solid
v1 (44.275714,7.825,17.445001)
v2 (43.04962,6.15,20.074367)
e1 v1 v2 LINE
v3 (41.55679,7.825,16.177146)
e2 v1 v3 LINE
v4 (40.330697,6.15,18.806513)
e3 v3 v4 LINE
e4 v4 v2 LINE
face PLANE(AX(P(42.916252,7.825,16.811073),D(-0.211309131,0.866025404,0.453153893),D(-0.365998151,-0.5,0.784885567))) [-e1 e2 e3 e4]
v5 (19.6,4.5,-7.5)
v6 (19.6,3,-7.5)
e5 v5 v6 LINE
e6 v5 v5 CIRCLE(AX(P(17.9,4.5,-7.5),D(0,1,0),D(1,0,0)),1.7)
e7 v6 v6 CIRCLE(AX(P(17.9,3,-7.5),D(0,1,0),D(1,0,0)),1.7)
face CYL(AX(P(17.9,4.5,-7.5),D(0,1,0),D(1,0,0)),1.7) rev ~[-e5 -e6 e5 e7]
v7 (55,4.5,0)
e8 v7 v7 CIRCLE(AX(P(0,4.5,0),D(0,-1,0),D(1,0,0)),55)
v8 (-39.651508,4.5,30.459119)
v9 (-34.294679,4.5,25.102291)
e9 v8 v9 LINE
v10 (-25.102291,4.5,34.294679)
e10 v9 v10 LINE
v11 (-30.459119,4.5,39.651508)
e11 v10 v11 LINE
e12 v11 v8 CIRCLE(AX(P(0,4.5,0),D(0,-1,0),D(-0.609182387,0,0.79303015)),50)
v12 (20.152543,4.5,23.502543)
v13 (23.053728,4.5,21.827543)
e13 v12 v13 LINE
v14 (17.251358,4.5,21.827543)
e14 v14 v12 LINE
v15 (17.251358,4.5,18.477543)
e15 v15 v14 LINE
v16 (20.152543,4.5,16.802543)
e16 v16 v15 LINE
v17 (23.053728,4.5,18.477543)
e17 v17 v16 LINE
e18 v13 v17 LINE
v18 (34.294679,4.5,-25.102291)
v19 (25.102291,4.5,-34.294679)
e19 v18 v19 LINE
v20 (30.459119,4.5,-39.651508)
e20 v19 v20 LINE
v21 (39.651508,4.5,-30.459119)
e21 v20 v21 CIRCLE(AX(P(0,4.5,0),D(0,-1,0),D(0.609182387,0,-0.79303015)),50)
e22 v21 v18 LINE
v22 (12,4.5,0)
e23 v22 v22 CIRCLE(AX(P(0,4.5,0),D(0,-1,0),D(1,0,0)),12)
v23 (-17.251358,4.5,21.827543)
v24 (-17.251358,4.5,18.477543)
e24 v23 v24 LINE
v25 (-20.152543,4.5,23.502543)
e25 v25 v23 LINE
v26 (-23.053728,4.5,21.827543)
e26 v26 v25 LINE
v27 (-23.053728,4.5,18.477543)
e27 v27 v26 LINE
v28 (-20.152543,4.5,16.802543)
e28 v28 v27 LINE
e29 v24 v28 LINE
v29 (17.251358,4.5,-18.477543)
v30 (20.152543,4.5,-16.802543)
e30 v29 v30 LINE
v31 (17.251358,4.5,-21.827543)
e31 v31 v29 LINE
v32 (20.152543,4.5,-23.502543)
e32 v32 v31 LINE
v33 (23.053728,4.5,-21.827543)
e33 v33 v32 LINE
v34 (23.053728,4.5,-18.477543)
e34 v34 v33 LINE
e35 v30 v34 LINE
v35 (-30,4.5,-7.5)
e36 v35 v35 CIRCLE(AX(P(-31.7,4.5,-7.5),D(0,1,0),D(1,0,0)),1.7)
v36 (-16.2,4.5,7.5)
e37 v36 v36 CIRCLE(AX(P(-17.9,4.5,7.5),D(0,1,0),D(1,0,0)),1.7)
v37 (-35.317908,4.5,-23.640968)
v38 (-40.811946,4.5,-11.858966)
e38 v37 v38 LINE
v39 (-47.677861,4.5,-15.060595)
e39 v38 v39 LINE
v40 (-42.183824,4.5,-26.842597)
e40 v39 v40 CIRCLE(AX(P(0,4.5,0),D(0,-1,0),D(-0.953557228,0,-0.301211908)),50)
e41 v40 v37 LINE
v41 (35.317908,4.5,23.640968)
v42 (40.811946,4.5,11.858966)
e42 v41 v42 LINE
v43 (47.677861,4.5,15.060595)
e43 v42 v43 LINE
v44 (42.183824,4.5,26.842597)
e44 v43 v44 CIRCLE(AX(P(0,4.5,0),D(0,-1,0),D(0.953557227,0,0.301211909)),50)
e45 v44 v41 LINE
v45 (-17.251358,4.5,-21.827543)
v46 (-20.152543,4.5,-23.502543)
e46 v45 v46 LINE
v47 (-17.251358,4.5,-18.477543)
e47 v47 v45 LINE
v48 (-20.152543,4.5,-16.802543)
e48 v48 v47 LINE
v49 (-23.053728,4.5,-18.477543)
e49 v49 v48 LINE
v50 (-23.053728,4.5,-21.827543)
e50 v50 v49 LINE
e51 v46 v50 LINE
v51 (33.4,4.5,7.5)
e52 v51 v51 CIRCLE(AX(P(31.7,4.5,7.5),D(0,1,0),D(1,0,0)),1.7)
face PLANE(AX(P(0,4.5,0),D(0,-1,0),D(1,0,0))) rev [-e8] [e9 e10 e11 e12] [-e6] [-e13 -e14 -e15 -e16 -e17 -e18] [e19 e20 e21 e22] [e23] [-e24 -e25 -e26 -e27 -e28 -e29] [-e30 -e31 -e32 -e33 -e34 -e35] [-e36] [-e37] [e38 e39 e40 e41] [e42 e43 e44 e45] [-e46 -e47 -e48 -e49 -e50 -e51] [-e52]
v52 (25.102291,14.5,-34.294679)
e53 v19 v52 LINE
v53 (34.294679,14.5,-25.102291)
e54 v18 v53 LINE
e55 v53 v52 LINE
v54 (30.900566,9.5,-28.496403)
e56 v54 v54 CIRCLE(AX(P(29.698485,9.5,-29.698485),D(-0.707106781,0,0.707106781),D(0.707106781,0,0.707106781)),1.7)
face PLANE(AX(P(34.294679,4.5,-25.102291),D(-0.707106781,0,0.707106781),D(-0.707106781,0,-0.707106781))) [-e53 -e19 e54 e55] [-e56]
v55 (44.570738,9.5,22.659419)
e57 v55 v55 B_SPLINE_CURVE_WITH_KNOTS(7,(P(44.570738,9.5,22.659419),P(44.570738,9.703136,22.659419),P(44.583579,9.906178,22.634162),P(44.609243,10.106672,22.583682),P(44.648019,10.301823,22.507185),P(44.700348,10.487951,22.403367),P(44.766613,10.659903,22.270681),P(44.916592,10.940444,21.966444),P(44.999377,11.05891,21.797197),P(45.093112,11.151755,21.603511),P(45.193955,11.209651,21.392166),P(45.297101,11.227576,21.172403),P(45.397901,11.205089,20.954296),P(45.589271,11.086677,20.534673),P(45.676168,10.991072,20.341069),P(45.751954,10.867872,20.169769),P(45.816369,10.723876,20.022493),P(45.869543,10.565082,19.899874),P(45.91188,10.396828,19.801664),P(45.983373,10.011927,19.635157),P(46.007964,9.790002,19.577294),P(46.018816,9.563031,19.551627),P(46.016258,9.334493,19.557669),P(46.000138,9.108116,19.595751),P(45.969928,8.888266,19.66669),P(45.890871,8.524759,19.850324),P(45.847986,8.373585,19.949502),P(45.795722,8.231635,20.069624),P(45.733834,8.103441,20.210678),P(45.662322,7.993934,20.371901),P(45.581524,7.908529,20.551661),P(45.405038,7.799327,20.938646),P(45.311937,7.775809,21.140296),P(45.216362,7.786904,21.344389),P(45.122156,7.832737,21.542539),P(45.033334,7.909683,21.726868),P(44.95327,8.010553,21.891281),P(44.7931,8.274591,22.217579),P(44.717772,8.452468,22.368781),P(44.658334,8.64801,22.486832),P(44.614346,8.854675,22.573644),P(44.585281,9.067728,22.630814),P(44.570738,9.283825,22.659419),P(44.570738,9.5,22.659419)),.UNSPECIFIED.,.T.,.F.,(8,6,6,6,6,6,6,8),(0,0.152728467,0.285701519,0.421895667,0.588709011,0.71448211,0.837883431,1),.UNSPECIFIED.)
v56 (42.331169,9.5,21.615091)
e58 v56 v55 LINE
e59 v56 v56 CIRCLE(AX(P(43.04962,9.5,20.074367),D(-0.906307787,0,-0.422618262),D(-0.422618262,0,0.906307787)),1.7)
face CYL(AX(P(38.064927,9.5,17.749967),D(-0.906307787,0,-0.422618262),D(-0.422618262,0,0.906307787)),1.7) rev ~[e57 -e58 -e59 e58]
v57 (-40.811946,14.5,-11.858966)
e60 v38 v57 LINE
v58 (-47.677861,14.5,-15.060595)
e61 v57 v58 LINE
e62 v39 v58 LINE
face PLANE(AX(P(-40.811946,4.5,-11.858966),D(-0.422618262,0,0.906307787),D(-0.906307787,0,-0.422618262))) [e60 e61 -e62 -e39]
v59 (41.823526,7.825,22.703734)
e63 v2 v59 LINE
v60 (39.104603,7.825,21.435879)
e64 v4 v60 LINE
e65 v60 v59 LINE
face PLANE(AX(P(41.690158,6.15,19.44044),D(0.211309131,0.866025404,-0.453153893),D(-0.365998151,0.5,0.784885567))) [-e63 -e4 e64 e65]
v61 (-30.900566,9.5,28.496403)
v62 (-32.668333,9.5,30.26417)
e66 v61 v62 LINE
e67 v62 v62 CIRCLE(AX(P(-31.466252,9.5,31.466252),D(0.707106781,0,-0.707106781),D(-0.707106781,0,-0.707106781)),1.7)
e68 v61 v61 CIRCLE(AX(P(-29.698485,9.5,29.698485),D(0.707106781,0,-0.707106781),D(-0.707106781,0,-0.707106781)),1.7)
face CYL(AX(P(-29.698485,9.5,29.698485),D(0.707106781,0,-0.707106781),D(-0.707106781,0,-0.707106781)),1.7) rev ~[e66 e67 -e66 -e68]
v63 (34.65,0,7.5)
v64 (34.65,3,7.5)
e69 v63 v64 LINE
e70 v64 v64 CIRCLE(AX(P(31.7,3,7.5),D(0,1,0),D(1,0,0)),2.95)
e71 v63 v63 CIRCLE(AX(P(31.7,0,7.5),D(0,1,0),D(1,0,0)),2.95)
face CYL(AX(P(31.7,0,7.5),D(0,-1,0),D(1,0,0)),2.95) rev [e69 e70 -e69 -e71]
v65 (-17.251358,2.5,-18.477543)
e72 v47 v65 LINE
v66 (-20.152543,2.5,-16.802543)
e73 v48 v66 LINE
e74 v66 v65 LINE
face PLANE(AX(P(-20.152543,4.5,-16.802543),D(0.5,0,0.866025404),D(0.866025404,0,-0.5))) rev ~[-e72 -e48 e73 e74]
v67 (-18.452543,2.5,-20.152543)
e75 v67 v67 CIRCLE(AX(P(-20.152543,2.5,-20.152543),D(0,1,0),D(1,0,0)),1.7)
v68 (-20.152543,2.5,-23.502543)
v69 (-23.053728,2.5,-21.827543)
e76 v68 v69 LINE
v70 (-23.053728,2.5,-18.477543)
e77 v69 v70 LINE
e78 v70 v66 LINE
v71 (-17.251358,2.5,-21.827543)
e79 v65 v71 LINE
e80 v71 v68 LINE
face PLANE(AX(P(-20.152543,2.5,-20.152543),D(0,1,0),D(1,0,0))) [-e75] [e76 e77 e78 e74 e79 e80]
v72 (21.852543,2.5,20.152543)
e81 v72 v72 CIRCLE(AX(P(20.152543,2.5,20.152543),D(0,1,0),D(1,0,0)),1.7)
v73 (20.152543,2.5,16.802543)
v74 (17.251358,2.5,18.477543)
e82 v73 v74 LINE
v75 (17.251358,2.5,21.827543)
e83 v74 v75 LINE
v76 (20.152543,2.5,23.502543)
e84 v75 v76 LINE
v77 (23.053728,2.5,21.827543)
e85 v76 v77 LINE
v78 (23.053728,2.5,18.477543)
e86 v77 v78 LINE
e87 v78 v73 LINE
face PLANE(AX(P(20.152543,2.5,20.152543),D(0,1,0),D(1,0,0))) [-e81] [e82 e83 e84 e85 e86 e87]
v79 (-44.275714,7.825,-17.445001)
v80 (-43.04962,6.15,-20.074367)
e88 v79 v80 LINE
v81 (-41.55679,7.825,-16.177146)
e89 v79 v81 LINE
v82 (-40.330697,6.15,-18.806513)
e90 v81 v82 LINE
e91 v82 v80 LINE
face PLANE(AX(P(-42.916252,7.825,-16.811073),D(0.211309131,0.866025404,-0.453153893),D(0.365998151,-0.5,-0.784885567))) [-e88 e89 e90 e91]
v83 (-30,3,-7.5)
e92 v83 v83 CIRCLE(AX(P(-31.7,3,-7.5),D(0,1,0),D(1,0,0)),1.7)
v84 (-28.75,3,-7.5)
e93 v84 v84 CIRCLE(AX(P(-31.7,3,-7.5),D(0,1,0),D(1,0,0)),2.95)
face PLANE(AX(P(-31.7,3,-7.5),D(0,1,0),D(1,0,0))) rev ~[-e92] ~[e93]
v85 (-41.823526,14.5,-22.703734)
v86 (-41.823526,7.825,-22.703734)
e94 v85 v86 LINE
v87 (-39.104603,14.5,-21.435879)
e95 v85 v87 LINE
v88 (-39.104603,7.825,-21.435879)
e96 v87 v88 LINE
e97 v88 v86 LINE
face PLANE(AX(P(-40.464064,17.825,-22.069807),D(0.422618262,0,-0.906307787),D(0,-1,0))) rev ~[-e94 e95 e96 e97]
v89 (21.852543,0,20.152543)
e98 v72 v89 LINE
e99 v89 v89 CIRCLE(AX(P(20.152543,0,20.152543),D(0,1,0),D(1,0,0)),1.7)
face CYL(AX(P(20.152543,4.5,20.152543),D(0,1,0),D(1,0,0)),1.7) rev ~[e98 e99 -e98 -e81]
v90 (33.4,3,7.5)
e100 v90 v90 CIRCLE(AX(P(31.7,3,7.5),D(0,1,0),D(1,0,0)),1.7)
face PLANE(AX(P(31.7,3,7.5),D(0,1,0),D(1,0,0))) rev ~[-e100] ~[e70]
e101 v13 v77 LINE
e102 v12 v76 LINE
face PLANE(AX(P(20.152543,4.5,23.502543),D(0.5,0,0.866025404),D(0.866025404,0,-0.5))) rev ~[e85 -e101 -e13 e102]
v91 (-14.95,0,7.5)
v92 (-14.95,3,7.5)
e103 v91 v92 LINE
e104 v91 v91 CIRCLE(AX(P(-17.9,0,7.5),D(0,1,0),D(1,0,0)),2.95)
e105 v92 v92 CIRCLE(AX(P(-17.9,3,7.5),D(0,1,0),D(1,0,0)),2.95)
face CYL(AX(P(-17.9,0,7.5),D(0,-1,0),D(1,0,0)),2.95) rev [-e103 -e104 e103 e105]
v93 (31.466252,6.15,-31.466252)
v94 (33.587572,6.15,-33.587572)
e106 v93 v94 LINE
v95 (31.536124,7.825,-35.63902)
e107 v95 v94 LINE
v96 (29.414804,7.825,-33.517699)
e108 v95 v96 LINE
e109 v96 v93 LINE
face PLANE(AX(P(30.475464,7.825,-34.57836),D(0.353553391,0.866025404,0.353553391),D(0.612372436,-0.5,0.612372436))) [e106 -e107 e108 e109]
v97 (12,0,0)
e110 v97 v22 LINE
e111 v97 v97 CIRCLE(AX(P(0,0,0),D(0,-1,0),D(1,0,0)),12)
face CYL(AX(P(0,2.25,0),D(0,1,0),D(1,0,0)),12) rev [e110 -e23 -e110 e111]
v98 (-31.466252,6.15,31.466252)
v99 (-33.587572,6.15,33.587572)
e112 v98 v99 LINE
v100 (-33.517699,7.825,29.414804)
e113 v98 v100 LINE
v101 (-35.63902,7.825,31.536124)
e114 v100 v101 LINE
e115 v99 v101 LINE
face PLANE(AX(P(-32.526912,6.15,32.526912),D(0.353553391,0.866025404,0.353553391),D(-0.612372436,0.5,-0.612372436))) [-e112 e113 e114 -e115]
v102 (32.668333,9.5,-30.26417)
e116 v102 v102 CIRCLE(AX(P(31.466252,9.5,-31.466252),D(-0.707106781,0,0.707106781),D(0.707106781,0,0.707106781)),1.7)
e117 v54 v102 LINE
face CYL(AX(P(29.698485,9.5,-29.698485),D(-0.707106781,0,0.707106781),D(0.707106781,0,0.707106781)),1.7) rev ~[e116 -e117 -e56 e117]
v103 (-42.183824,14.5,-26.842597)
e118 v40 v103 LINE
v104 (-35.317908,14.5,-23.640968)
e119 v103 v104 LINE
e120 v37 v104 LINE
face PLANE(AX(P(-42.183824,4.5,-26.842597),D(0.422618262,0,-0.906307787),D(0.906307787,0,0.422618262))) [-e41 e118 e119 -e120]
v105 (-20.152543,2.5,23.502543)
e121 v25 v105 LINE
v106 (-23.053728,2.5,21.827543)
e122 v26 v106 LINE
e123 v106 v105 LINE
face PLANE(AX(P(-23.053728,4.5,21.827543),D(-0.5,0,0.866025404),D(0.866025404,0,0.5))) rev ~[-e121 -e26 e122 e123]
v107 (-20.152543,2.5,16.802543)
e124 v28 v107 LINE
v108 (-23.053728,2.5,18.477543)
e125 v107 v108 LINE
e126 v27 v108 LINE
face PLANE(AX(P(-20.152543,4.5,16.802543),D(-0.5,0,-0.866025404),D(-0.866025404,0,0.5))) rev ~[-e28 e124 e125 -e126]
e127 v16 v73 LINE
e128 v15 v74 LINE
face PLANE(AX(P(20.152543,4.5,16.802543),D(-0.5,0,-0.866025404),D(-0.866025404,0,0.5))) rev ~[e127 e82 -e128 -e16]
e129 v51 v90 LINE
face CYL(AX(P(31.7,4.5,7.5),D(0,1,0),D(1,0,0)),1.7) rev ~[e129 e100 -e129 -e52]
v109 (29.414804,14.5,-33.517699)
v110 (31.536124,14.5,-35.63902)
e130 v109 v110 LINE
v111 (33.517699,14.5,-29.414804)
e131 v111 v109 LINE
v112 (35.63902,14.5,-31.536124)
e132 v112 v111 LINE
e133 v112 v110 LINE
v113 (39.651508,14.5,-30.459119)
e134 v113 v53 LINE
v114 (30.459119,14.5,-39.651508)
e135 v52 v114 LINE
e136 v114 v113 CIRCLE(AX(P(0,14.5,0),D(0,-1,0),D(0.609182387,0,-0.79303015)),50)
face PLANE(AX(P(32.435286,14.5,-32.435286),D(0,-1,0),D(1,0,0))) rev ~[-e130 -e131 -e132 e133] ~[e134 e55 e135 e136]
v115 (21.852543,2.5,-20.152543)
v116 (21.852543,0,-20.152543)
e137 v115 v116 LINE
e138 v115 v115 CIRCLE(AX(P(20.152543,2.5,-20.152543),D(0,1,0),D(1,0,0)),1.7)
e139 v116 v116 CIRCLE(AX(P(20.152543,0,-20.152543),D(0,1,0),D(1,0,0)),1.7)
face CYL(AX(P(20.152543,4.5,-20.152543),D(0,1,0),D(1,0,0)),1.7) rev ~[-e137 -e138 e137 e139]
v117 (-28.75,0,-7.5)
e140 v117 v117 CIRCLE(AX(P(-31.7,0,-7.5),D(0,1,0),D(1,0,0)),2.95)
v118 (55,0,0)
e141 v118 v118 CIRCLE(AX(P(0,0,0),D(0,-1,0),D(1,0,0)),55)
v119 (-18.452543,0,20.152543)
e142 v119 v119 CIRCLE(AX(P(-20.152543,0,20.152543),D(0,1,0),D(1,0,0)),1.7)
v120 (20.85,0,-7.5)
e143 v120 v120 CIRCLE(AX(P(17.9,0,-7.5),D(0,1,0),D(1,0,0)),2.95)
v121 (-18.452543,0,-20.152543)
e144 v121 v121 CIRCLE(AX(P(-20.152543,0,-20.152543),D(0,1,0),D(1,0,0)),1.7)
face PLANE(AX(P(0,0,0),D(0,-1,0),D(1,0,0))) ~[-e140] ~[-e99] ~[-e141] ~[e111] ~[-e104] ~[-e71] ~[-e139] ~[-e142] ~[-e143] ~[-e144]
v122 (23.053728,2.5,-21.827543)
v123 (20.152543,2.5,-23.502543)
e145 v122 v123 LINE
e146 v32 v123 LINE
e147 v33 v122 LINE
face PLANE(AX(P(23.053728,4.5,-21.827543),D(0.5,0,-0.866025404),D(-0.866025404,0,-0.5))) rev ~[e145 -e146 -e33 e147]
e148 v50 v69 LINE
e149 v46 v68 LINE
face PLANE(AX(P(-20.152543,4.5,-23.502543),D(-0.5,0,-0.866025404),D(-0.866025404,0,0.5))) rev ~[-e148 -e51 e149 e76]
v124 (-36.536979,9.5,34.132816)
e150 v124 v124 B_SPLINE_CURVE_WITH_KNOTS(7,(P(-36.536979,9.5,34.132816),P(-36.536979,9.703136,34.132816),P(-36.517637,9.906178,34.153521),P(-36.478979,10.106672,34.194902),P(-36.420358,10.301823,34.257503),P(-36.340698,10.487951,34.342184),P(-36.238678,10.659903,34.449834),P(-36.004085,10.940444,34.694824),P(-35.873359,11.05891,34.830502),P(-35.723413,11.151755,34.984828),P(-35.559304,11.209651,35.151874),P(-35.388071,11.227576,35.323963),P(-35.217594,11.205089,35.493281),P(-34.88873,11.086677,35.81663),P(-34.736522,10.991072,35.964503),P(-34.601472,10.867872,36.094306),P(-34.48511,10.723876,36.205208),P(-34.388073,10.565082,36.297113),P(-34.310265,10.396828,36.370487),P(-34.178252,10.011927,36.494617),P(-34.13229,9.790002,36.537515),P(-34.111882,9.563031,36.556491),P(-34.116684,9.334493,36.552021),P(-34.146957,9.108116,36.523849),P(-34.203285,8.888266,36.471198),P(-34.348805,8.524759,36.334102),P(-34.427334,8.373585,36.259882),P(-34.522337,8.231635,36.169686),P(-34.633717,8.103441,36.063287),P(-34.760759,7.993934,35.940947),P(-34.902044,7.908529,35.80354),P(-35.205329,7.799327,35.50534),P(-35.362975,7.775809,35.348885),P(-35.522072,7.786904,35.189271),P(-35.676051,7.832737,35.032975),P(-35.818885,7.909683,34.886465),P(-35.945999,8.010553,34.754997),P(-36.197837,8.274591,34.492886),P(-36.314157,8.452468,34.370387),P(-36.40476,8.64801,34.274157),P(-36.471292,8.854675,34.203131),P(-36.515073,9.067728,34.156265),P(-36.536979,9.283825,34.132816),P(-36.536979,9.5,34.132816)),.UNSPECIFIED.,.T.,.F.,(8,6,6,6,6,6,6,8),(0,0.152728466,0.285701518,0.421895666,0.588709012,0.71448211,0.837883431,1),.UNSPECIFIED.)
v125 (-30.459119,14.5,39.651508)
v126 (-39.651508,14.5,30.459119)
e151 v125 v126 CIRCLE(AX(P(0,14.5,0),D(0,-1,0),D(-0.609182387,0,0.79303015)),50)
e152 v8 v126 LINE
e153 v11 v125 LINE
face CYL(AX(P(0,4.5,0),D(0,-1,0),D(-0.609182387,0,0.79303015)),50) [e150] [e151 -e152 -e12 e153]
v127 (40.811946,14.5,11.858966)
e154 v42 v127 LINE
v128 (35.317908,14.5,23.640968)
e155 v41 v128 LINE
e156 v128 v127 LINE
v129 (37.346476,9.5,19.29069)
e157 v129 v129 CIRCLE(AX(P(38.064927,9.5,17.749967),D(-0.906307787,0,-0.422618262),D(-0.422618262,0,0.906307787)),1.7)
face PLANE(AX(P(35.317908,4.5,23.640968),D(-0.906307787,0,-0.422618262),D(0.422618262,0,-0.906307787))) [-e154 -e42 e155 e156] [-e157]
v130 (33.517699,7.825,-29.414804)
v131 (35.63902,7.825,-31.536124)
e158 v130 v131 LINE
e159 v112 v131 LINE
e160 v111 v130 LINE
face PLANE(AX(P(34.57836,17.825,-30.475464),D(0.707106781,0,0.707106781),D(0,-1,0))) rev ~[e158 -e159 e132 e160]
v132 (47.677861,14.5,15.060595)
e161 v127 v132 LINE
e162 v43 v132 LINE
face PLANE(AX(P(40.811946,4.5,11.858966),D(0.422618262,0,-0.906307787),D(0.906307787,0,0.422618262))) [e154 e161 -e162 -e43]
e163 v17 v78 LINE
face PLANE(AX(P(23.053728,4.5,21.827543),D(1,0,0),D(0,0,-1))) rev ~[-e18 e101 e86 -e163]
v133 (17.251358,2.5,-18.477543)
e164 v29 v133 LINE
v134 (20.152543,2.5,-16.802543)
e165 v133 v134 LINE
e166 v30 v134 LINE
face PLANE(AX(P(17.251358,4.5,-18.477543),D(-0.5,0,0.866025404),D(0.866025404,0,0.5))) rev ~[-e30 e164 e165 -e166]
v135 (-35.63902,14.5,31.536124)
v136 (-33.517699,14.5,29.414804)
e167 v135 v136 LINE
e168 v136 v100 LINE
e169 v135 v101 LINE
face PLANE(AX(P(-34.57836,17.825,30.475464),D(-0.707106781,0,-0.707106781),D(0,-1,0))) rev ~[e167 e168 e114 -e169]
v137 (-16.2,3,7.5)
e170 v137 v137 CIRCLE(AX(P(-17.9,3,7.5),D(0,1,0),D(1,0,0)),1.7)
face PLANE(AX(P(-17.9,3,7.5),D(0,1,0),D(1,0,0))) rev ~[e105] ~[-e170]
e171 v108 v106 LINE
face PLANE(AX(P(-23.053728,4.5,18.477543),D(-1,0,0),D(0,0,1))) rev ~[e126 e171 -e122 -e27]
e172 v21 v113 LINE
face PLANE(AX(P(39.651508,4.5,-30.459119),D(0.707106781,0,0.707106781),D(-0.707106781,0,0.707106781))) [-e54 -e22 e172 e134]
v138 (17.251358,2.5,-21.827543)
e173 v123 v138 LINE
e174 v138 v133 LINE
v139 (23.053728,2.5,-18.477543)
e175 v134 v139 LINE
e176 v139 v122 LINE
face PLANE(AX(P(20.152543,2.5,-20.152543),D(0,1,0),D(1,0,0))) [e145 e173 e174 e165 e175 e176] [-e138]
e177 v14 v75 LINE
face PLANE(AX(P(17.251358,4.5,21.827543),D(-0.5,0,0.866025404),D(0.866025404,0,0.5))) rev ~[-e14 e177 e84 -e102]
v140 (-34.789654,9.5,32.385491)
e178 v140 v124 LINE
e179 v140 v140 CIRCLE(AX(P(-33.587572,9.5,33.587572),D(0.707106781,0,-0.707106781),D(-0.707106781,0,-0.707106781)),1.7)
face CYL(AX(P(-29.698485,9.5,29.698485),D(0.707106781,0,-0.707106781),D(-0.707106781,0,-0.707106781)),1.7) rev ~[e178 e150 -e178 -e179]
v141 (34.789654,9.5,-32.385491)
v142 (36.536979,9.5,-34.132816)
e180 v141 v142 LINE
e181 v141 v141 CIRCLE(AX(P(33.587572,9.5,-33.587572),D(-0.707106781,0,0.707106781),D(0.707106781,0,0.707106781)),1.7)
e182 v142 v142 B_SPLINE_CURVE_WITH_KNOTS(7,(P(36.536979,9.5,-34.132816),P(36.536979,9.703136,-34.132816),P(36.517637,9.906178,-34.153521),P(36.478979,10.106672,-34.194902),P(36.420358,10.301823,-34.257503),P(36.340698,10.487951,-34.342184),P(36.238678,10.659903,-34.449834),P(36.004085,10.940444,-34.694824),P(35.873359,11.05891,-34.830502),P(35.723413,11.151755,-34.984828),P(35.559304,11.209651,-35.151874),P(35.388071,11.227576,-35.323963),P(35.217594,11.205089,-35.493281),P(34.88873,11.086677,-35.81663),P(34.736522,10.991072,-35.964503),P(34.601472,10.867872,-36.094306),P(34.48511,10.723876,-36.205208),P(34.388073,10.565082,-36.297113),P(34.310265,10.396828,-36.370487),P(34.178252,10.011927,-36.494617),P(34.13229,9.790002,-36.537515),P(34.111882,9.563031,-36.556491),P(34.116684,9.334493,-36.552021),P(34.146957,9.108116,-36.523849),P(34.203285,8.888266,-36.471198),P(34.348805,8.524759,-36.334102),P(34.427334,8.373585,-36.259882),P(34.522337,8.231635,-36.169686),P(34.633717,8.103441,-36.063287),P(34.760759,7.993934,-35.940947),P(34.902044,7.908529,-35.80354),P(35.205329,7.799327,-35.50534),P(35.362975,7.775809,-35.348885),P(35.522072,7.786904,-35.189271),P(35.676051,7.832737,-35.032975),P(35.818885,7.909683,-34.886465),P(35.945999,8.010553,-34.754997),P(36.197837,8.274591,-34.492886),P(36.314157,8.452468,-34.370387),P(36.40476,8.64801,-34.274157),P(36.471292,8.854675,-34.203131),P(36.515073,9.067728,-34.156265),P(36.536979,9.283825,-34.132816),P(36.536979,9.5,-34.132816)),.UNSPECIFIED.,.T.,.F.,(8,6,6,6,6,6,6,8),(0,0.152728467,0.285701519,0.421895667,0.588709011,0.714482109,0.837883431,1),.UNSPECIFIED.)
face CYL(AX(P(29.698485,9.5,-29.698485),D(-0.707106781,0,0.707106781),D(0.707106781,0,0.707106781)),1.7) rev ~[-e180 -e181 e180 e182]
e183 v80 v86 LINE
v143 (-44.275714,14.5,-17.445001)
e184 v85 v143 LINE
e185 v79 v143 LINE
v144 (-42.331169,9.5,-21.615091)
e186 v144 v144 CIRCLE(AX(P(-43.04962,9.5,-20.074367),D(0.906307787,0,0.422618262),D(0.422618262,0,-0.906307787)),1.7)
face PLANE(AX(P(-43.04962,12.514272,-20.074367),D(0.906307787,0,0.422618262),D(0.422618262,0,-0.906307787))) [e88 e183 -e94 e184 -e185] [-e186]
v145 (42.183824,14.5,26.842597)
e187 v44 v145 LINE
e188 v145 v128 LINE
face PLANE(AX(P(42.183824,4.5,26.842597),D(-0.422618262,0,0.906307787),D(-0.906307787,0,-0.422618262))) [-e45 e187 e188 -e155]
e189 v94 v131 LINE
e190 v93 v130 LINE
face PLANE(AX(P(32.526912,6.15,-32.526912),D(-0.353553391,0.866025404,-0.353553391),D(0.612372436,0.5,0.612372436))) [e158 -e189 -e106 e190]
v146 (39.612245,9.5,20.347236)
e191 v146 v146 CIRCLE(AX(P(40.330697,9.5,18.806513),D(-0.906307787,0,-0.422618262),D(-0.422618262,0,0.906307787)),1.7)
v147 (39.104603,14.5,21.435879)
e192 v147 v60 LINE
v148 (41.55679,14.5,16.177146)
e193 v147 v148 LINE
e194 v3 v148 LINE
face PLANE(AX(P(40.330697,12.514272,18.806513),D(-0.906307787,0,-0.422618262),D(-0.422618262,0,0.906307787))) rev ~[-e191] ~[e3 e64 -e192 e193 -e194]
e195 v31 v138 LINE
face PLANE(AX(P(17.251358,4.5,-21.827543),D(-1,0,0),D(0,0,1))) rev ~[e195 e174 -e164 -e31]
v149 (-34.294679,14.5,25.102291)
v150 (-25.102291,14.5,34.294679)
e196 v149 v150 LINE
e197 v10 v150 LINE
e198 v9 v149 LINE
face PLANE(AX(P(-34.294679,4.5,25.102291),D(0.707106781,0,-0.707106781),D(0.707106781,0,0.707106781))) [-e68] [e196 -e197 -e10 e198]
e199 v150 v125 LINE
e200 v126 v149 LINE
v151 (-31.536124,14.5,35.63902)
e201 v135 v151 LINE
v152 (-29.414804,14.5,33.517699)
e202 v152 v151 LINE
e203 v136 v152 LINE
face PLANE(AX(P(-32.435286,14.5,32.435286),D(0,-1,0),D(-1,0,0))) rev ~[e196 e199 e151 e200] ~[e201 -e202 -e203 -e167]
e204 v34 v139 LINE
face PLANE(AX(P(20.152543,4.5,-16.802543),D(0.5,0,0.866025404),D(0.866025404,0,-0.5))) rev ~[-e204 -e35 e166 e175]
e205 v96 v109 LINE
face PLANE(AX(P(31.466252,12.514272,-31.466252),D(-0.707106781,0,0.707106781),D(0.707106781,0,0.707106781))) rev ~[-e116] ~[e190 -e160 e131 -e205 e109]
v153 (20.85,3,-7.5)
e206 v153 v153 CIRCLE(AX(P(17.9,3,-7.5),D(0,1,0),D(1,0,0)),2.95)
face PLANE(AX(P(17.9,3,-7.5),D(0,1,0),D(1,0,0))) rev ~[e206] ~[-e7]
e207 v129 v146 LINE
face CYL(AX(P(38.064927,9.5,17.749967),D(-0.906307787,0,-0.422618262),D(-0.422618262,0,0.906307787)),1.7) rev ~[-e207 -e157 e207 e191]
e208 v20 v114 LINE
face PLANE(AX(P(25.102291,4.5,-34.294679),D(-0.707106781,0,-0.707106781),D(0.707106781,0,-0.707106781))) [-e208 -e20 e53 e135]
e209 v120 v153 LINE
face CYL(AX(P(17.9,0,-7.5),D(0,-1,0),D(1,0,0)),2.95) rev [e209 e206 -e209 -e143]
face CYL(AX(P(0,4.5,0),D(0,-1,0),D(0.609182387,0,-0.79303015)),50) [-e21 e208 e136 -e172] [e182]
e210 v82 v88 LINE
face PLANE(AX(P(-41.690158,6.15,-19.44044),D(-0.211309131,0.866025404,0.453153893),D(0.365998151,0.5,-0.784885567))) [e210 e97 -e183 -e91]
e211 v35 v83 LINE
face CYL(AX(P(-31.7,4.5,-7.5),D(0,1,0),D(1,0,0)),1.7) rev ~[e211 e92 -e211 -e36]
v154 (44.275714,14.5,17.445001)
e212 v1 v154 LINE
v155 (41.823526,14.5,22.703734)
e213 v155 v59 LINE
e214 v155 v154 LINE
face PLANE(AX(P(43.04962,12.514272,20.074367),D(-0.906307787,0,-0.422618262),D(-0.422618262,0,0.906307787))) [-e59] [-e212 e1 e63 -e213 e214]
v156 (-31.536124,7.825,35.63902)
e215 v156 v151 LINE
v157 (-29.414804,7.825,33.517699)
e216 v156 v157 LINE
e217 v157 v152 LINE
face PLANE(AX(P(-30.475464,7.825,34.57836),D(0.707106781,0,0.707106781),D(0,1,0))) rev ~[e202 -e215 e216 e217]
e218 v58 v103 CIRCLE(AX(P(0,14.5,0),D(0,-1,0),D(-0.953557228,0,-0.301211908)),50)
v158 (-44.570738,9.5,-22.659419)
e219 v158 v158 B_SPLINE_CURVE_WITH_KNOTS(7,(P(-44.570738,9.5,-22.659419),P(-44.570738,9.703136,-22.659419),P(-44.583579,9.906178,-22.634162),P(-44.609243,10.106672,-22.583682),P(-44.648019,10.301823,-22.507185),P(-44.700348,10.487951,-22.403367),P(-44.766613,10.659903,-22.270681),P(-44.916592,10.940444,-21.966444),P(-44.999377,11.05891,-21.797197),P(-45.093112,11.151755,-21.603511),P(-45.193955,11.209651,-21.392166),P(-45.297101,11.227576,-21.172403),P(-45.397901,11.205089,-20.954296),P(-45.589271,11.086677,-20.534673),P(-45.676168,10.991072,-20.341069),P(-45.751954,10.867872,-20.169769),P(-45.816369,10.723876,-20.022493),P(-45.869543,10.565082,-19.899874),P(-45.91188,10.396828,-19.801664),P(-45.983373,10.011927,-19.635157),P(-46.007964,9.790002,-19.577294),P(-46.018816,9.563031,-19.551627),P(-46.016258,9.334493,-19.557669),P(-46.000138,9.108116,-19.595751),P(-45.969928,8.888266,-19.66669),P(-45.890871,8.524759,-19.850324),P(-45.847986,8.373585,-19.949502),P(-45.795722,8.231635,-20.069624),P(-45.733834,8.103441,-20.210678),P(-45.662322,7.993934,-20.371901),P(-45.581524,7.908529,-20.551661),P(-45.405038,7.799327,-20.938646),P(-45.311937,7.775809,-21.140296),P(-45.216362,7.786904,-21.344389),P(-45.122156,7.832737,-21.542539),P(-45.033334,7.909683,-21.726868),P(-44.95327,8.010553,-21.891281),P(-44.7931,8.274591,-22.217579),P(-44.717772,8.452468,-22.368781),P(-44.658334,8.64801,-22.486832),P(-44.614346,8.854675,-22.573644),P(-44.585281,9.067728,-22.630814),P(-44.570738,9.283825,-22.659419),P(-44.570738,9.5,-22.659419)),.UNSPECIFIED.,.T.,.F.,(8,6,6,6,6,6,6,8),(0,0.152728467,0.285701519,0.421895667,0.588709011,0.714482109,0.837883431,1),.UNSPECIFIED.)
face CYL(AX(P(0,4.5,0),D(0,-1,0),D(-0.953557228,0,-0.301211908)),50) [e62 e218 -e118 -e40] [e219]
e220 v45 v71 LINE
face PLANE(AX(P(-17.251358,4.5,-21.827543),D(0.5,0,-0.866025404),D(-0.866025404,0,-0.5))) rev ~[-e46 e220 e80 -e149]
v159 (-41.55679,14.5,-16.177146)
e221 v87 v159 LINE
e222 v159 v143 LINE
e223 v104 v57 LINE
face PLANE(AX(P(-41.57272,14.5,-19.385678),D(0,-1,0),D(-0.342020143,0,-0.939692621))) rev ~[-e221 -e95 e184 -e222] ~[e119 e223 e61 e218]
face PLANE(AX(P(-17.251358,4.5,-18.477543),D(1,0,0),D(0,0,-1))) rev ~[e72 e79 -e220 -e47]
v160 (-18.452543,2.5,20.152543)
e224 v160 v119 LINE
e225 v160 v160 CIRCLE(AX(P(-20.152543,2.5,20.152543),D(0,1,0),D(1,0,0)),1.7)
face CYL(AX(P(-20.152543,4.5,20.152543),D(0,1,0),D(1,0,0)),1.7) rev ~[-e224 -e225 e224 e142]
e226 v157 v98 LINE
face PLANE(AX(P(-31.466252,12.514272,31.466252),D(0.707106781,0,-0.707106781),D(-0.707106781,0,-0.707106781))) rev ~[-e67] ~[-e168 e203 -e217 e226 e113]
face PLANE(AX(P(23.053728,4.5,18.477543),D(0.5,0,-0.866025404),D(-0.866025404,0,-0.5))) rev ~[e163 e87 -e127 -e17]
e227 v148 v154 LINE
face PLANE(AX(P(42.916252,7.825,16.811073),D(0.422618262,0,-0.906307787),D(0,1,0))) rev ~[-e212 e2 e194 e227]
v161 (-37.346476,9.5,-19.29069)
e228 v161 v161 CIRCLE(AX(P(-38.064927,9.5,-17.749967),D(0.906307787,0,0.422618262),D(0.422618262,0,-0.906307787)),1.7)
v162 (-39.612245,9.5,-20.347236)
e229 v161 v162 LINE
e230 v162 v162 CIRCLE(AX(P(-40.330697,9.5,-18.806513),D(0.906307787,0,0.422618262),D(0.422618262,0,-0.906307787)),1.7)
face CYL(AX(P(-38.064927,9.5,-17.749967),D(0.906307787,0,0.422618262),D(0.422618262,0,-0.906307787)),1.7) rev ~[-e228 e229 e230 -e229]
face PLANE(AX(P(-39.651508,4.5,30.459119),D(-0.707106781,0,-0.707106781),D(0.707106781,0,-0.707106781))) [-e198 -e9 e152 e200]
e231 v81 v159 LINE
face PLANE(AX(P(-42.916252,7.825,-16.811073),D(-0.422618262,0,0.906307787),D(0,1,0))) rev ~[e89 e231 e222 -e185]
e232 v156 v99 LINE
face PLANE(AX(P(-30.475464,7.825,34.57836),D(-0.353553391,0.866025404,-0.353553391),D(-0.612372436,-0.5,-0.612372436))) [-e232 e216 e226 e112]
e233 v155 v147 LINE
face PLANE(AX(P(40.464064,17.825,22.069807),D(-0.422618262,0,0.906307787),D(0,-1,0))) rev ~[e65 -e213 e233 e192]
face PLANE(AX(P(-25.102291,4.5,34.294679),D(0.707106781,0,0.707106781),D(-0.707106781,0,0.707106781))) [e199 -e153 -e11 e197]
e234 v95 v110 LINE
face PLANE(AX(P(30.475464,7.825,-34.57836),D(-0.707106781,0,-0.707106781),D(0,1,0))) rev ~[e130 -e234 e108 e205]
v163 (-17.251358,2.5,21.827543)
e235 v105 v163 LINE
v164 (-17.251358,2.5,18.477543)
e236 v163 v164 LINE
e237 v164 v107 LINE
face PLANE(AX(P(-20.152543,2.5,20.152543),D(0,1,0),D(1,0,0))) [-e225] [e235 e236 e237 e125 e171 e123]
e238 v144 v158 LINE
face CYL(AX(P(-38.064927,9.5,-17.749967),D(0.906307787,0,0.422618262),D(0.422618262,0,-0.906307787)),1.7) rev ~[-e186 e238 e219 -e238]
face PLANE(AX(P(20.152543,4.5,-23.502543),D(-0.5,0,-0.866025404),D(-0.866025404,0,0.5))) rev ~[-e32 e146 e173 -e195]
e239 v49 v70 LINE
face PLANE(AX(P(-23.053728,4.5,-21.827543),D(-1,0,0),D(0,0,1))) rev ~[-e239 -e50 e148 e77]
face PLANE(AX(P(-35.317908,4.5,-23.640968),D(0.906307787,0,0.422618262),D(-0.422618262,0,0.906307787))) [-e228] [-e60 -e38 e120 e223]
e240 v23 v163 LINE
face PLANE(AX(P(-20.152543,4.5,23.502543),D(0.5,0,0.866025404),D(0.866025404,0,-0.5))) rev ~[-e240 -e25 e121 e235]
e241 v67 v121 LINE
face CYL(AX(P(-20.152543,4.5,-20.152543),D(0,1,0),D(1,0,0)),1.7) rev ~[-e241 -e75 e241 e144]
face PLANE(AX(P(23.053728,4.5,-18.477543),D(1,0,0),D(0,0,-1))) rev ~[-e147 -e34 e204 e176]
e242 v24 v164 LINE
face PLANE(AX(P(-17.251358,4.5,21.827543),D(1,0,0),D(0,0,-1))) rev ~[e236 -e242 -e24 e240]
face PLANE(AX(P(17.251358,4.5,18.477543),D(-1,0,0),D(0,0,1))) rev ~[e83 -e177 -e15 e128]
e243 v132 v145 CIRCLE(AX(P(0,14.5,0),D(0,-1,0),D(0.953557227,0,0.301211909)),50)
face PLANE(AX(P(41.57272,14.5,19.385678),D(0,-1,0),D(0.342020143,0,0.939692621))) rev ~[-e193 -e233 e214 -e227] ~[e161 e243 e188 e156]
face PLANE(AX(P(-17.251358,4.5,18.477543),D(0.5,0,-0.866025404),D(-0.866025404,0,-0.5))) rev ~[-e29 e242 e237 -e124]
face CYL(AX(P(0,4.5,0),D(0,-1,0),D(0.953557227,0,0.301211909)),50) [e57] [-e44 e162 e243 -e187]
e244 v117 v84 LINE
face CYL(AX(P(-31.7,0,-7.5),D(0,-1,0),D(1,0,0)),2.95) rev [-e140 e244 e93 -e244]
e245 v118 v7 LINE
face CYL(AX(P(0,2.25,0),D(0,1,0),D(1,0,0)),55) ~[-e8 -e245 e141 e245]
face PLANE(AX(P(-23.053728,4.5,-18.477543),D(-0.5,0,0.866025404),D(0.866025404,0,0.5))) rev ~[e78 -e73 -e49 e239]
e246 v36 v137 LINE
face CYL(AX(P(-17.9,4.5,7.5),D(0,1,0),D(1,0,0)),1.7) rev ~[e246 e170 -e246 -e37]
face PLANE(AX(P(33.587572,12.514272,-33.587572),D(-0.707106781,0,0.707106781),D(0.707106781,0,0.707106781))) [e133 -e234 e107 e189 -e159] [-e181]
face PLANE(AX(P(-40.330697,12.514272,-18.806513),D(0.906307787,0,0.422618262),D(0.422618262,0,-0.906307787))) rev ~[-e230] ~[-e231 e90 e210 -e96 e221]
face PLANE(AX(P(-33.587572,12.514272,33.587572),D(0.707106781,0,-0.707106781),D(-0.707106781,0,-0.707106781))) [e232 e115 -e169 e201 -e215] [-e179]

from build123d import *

# Parameters (mm, degrees)
CROQUIS1_W               = 43
CROQUIS1_H               = 4.5
CROQUIS2_R               = 1.7
CORTAR_EXTRUIR1_DEPTH    = 10
CORTAR_EXTRUIR2_DEPTH    = 2
CROQUIS4_R               = 2.95
CORTAR_EXTRUIR3_DEPTH    = 3
SALIENTE_EXTRUIR1_DEPTH  = 10
CROQUIS6_R               = 1.7
CORTAR_EXTRUIR4_DEPTH    = 10
CORTAR_EXTRUIR5_DEPTH    = 1.5
MATRIZC1_COUNT           = 2
MATRIZC1_ANGLE           = 70
MATRIZC2_COPY_1_DEPTH    = 10
MATRIZC2_COPY_2_SKETCH_R = 1.7
MATRIZC2_COPY_2_DEPTH    = 10
MATRIZC2_COPY_3_DEPTH    = 1.5
MATRIZC2_COPY_4_DEPTH    = 10
MATRIZC2_COPY_5_SKETCH_R = 1.7
MATRIZC2_COPY_5_DEPTH    = 10
MATRIZC2_COPY_6_DEPTH    = 1.5


with BuildPart() as part:
    # Croquis1 → Revolución1 (revolve)
    with BuildSketch(Plane.XY):
        with Locations((33.5, 2.25)):
            Rectangle(CROQUIS1_W, CROQUIS1_H)
    revolve(axis=Axis((0, 115.94715176, 0), (0, -1, 0)))

    # Croquis2 → Cortar-Extruir1 (cut)
    with BuildSketch(Plane(origin=(0, 4.5, 0), x_dir=(1, 0, 0), z_dir=(0, 1, 0))):
        with Locations((-31.7, 7.5)):
            Circle(CROQUIS2_R)
        with Locations((17.9, 7.5)):
            Circle(CROQUIS2_R)
        with Locations((-17.9, -7.5)):
            Circle(CROQUIS2_R)
        with Locations((31.7, -7.5)):
            Circle(CROQUIS2_R)
        with Locations((20.152543264, 20.152543264)):
            Circle(CROQUIS2_R)
        with Locations((-20.152543264, 20.152543264)):
            Circle(CROQUIS2_R)
        with Locations((-20.152543264, -20.152543264)):
            Circle(CROQUIS2_R)
        with Locations((20.152543264, -20.152543264)):
            Circle(CROQUIS2_R)
    extrude(amount=-CORTAR_EXTRUIR1_DEPTH, mode=Mode.SUBTRACT)

    # Croquis3 → Cortar-Extruir2 (cut)
    with BuildSketch(Plane(origin=(0, 4.5, 0), x_dir=(1, 0, 0), z_dir=(0, 1, 0))):
        Polygon((-20.152543264, 23.502543264), (-23.053728366, 21.827543264), (-23.053728366, 18.477543264), (-20.152543264, 16.802543264), (-17.251358161, 18.477543264), (-17.251358161, 21.827543264), align=None)
        Polygon((20.152543264, 23.502543264), (17.251358161, 21.827543264), (17.251358161, 18.477543264), (20.152543264, 16.802543264), (23.053728366, 18.477543264), (23.053728366, 21.827543264), align=None)
        Polygon((-20.152543264, -16.802543264), (-23.053728366, -18.477543264), (-23.053728366, -21.827543264), (-20.152543264, -23.502543264), (-17.251358161, -21.827543264), (-17.251358161, -18.477543264), align=None)
        Polygon((20.152543264, -16.802543264), (17.251358161, -18.477543264), (17.251358161, -21.827543264), (20.152543264, -23.502543264), (23.053728366, -21.827543264), (23.053728366, -18.477543264), align=None)
    extrude(amount=-CORTAR_EXTRUIR2_DEPTH, mode=Mode.SUBTRACT)

    # Croquis4 → Cortar-Extruir3 (cut)
    with BuildSketch(Plane(origin=(0, 0, 0), x_dir=(1, 0, 0), z_dir=(0, 1, 0))):
        with Locations((-31.7, 7.5)):
            Circle(CROQUIS4_R)
        with Locations((-17.9, -7.5)):
            Circle(CROQUIS4_R)
        with Locations((17.9, 7.5)):
            Circle(CROQUIS4_R)
        with Locations((31.7, -7.5)):
            Circle(CROQUIS4_R)
    extrude(amount=CORTAR_EXTRUIR3_DEPTH, mode=Mode.SUBTRACT)

    # Croquis5 → Saliente-Extruir1 (add)
    with BuildSketch(Plane(origin=(0, 4.5, 0), x_dir=(1, 0, 0), z_dir=(0, 1, 0))):
        with BuildLine():
            Line((-34.294678888, -25.102290732), (-25.102290732, -34.294678888))
            Line((-25.102290732, -34.294678888), (-30.459119357, -39.651507512))
            ThreePointArc((-30.459119357, -39.651507512), (-35.355339059, -35.355339059), (-39.651507512, -30.459119357))
            Line((-39.651507512, -30.459119357), (-34.294678888, -25.102290732))
        make_face()
    saliente_extruir1 = extrude(amount=SALIENTE_EXTRUIR1_DEPTH)

    # Croquis6 → Cortar-Extruir4 (cut)
    with BuildSketch(Plane(origin=(-29.69848481, 0, 29.69848481), x_dir=(-0.7071067811865479, 0, -0.7071067811865472), z_dir=(0.7071067811865472, 0, -0.7071067811865479))):
        with Locations((0, 9.5)):
            Circle(CROQUIS6_R)
    cortar_extruir4 = extrude(amount=-CORTAR_EXTRUIR4_DEPTH, mode=Mode.SUBTRACT)

    # Croquis7 → Cortar-Extruir5 (cut, symmetric)
    with BuildSketch(Plane(origin=(-32.526911935, 0, 32.526911935), x_dir=(0.7071067811865478, 0, 0.7071067811865472), z_dir=(-0.7071067811865472, 0, 0.7071067811865478))):
        Polygon((-2.901185103, 11.175), (-2.901185103, 17.825), (2.901185103, 17.825), (2.901185103, 11.175), (2.901185103, 7.825), (0, 6.15), (-2.901185103, 7.825), align=None)
    cortar_extruir5 = extrude(amount=CORTAR_EXTRUIR5_DEPTH, both=True, mode=Mode.SUBTRACT)

    # MatrizC1: Saliente-Extruir1, Cortar-Extruir4, Cortar-Extruir5 ×2 about axis
    matrizc1_axis = Axis((0, 115.94715176, 0), (0, -1, 0))
    add([saliente_extruir1.rotate(matrizc1_axis, i * MATRIZC1_ANGLE / (MATRIZC1_COUNT - 1)) for i in range(1, MATRIZC1_COUNT)])
    add([cortar_extruir4.rotate(matrizc1_axis, i * MATRIZC1_ANGLE / (MATRIZC1_COUNT - 1)) for i in range(1, MATRIZC1_COUNT)], mode=Mode.SUBTRACT)
    add([cortar_extruir5.rotate(matrizc1_axis, i * MATRIZC1_ANGLE / (MATRIZC1_COUNT - 1)) for i in range(1, MATRIZC1_COUNT)], mode=Mode.SUBTRACT)

    # MatrizC2 copy 1 sketch → MatrizC2 copy 1 (add)
    with BuildSketch(Plane(origin=(0, 4.5, 0), x_dir=(-0.342020143325666, 0, -0.9396926207859093), z_dir=(0, 1, 0))):
        with BuildLine():
            Line((-34.294678888, -25.102290732), (-25.102290732, -34.294678888))
            Line((-25.102290732, -34.294678888), (-30.459119357, -39.651507512))
            ThreePointArc((-30.459119357, -39.651507512), (-35.355339059, -35.355339059), (-39.651507512, -30.459119357))
            Line((-39.651507512, -30.459119357), (-34.294678888, -25.102290732))
        make_face()
    extrude(amount=MATRIZC2_COPY_1_DEPTH)

    # MatrizC2 copy 2 sketch → MatrizC2 copy 2 (cut)
    with BuildSketch(Plane(origin=(38.064927056, 0, 17.749966993), x_dir=(-0.42261826174070166, 0, 0.9063077870366489), z_dir=(-0.9063077870366489, 0, -0.42261826174070166))):
        with Locations((0, 9.5)):
            Circle(MATRIZC2_COPY_2_SKETCH_R)
    extrude(amount=-MATRIZC2_COPY_2_DEPTH, mode=Mode.SUBTRACT)

    # MatrizC2 copy 3 sketch → MatrizC2 copy 3 (cut, symmetric)
    with BuildSketch(Plane(origin=(41.690158204, 0, 19.44044004), x_dir=(0.4226182617407017, 0, -0.9063077870366489), z_dir=(0.9063077870366489, 0, 0.4226182617407017))):
        Polygon((-2.901185103, 11.175), (-2.901185103, 17.825), (2.901185103, 17.825), (2.901185103, 11.175), (2.901185103, 7.825), (0, 6.15), (-2.901185103, 7.825), align=None)
    extrude(amount=MATRIZC2_COPY_3_DEPTH, both=True, mode=Mode.SUBTRACT)

    # MatrizC2 copy 4 sketch → MatrizC2 copy 4 (add)
    with BuildSketch(Plane(origin=(0, 4.5, 0), x_dir=(-1, 0, 0), z_dir=(0, 1, 0))):
        with BuildLine():
            Line((-34.294678888, -25.102290732), (-25.102290732, -34.294678888))
            Line((-25.102290732, -34.294678888), (-30.459119357, -39.651507512))
            ThreePointArc((-30.459119357, -39.651507512), (-35.355339059, -35.355339059), (-39.651507512, -30.459119357))
            Line((-39.651507512, -30.459119357), (-34.294678888, -25.102290732))
        make_face()
    extrude(amount=MATRIZC2_COPY_4_DEPTH)

    # MatrizC2 copy 5 sketch → MatrizC2 copy 5 (cut)
    with BuildSketch(Plane(origin=(29.69848481, 0, -29.69848481), x_dir=(0.7071067811865478, 0, 0.7071067811865474), z_dir=(-0.7071067811865474, 0, 0.7071067811865478))):
        with Locations((0, 9.5)):
            Circle(MATRIZC2_COPY_5_SKETCH_R)
    extrude(amount=-MATRIZC2_COPY_5_DEPTH, mode=Mode.SUBTRACT)

    # MatrizC2 copy 6 sketch → MatrizC2 copy 6 (cut, symmetric)
    with BuildSketch(Plane(origin=(32.526911935, 0, -32.526911935), x_dir=(-0.7071067811865477, 0, -0.7071067811865474), z_dir=(0.7071067811865474, 0, -0.7071067811865477))):
        Polygon((-2.901185103, 11.175), (-2.901185103, 17.825), (2.901185103, 17.825), (2.901185103, 11.175), (2.901185103, 7.825), (0, 6.15), (-2.901185103, 7.825), align=None)
    extrude(amount=MATRIZC2_COPY_6_DEPTH, both=True, mode=Mode.SUBTRACT)


solid = part.part
